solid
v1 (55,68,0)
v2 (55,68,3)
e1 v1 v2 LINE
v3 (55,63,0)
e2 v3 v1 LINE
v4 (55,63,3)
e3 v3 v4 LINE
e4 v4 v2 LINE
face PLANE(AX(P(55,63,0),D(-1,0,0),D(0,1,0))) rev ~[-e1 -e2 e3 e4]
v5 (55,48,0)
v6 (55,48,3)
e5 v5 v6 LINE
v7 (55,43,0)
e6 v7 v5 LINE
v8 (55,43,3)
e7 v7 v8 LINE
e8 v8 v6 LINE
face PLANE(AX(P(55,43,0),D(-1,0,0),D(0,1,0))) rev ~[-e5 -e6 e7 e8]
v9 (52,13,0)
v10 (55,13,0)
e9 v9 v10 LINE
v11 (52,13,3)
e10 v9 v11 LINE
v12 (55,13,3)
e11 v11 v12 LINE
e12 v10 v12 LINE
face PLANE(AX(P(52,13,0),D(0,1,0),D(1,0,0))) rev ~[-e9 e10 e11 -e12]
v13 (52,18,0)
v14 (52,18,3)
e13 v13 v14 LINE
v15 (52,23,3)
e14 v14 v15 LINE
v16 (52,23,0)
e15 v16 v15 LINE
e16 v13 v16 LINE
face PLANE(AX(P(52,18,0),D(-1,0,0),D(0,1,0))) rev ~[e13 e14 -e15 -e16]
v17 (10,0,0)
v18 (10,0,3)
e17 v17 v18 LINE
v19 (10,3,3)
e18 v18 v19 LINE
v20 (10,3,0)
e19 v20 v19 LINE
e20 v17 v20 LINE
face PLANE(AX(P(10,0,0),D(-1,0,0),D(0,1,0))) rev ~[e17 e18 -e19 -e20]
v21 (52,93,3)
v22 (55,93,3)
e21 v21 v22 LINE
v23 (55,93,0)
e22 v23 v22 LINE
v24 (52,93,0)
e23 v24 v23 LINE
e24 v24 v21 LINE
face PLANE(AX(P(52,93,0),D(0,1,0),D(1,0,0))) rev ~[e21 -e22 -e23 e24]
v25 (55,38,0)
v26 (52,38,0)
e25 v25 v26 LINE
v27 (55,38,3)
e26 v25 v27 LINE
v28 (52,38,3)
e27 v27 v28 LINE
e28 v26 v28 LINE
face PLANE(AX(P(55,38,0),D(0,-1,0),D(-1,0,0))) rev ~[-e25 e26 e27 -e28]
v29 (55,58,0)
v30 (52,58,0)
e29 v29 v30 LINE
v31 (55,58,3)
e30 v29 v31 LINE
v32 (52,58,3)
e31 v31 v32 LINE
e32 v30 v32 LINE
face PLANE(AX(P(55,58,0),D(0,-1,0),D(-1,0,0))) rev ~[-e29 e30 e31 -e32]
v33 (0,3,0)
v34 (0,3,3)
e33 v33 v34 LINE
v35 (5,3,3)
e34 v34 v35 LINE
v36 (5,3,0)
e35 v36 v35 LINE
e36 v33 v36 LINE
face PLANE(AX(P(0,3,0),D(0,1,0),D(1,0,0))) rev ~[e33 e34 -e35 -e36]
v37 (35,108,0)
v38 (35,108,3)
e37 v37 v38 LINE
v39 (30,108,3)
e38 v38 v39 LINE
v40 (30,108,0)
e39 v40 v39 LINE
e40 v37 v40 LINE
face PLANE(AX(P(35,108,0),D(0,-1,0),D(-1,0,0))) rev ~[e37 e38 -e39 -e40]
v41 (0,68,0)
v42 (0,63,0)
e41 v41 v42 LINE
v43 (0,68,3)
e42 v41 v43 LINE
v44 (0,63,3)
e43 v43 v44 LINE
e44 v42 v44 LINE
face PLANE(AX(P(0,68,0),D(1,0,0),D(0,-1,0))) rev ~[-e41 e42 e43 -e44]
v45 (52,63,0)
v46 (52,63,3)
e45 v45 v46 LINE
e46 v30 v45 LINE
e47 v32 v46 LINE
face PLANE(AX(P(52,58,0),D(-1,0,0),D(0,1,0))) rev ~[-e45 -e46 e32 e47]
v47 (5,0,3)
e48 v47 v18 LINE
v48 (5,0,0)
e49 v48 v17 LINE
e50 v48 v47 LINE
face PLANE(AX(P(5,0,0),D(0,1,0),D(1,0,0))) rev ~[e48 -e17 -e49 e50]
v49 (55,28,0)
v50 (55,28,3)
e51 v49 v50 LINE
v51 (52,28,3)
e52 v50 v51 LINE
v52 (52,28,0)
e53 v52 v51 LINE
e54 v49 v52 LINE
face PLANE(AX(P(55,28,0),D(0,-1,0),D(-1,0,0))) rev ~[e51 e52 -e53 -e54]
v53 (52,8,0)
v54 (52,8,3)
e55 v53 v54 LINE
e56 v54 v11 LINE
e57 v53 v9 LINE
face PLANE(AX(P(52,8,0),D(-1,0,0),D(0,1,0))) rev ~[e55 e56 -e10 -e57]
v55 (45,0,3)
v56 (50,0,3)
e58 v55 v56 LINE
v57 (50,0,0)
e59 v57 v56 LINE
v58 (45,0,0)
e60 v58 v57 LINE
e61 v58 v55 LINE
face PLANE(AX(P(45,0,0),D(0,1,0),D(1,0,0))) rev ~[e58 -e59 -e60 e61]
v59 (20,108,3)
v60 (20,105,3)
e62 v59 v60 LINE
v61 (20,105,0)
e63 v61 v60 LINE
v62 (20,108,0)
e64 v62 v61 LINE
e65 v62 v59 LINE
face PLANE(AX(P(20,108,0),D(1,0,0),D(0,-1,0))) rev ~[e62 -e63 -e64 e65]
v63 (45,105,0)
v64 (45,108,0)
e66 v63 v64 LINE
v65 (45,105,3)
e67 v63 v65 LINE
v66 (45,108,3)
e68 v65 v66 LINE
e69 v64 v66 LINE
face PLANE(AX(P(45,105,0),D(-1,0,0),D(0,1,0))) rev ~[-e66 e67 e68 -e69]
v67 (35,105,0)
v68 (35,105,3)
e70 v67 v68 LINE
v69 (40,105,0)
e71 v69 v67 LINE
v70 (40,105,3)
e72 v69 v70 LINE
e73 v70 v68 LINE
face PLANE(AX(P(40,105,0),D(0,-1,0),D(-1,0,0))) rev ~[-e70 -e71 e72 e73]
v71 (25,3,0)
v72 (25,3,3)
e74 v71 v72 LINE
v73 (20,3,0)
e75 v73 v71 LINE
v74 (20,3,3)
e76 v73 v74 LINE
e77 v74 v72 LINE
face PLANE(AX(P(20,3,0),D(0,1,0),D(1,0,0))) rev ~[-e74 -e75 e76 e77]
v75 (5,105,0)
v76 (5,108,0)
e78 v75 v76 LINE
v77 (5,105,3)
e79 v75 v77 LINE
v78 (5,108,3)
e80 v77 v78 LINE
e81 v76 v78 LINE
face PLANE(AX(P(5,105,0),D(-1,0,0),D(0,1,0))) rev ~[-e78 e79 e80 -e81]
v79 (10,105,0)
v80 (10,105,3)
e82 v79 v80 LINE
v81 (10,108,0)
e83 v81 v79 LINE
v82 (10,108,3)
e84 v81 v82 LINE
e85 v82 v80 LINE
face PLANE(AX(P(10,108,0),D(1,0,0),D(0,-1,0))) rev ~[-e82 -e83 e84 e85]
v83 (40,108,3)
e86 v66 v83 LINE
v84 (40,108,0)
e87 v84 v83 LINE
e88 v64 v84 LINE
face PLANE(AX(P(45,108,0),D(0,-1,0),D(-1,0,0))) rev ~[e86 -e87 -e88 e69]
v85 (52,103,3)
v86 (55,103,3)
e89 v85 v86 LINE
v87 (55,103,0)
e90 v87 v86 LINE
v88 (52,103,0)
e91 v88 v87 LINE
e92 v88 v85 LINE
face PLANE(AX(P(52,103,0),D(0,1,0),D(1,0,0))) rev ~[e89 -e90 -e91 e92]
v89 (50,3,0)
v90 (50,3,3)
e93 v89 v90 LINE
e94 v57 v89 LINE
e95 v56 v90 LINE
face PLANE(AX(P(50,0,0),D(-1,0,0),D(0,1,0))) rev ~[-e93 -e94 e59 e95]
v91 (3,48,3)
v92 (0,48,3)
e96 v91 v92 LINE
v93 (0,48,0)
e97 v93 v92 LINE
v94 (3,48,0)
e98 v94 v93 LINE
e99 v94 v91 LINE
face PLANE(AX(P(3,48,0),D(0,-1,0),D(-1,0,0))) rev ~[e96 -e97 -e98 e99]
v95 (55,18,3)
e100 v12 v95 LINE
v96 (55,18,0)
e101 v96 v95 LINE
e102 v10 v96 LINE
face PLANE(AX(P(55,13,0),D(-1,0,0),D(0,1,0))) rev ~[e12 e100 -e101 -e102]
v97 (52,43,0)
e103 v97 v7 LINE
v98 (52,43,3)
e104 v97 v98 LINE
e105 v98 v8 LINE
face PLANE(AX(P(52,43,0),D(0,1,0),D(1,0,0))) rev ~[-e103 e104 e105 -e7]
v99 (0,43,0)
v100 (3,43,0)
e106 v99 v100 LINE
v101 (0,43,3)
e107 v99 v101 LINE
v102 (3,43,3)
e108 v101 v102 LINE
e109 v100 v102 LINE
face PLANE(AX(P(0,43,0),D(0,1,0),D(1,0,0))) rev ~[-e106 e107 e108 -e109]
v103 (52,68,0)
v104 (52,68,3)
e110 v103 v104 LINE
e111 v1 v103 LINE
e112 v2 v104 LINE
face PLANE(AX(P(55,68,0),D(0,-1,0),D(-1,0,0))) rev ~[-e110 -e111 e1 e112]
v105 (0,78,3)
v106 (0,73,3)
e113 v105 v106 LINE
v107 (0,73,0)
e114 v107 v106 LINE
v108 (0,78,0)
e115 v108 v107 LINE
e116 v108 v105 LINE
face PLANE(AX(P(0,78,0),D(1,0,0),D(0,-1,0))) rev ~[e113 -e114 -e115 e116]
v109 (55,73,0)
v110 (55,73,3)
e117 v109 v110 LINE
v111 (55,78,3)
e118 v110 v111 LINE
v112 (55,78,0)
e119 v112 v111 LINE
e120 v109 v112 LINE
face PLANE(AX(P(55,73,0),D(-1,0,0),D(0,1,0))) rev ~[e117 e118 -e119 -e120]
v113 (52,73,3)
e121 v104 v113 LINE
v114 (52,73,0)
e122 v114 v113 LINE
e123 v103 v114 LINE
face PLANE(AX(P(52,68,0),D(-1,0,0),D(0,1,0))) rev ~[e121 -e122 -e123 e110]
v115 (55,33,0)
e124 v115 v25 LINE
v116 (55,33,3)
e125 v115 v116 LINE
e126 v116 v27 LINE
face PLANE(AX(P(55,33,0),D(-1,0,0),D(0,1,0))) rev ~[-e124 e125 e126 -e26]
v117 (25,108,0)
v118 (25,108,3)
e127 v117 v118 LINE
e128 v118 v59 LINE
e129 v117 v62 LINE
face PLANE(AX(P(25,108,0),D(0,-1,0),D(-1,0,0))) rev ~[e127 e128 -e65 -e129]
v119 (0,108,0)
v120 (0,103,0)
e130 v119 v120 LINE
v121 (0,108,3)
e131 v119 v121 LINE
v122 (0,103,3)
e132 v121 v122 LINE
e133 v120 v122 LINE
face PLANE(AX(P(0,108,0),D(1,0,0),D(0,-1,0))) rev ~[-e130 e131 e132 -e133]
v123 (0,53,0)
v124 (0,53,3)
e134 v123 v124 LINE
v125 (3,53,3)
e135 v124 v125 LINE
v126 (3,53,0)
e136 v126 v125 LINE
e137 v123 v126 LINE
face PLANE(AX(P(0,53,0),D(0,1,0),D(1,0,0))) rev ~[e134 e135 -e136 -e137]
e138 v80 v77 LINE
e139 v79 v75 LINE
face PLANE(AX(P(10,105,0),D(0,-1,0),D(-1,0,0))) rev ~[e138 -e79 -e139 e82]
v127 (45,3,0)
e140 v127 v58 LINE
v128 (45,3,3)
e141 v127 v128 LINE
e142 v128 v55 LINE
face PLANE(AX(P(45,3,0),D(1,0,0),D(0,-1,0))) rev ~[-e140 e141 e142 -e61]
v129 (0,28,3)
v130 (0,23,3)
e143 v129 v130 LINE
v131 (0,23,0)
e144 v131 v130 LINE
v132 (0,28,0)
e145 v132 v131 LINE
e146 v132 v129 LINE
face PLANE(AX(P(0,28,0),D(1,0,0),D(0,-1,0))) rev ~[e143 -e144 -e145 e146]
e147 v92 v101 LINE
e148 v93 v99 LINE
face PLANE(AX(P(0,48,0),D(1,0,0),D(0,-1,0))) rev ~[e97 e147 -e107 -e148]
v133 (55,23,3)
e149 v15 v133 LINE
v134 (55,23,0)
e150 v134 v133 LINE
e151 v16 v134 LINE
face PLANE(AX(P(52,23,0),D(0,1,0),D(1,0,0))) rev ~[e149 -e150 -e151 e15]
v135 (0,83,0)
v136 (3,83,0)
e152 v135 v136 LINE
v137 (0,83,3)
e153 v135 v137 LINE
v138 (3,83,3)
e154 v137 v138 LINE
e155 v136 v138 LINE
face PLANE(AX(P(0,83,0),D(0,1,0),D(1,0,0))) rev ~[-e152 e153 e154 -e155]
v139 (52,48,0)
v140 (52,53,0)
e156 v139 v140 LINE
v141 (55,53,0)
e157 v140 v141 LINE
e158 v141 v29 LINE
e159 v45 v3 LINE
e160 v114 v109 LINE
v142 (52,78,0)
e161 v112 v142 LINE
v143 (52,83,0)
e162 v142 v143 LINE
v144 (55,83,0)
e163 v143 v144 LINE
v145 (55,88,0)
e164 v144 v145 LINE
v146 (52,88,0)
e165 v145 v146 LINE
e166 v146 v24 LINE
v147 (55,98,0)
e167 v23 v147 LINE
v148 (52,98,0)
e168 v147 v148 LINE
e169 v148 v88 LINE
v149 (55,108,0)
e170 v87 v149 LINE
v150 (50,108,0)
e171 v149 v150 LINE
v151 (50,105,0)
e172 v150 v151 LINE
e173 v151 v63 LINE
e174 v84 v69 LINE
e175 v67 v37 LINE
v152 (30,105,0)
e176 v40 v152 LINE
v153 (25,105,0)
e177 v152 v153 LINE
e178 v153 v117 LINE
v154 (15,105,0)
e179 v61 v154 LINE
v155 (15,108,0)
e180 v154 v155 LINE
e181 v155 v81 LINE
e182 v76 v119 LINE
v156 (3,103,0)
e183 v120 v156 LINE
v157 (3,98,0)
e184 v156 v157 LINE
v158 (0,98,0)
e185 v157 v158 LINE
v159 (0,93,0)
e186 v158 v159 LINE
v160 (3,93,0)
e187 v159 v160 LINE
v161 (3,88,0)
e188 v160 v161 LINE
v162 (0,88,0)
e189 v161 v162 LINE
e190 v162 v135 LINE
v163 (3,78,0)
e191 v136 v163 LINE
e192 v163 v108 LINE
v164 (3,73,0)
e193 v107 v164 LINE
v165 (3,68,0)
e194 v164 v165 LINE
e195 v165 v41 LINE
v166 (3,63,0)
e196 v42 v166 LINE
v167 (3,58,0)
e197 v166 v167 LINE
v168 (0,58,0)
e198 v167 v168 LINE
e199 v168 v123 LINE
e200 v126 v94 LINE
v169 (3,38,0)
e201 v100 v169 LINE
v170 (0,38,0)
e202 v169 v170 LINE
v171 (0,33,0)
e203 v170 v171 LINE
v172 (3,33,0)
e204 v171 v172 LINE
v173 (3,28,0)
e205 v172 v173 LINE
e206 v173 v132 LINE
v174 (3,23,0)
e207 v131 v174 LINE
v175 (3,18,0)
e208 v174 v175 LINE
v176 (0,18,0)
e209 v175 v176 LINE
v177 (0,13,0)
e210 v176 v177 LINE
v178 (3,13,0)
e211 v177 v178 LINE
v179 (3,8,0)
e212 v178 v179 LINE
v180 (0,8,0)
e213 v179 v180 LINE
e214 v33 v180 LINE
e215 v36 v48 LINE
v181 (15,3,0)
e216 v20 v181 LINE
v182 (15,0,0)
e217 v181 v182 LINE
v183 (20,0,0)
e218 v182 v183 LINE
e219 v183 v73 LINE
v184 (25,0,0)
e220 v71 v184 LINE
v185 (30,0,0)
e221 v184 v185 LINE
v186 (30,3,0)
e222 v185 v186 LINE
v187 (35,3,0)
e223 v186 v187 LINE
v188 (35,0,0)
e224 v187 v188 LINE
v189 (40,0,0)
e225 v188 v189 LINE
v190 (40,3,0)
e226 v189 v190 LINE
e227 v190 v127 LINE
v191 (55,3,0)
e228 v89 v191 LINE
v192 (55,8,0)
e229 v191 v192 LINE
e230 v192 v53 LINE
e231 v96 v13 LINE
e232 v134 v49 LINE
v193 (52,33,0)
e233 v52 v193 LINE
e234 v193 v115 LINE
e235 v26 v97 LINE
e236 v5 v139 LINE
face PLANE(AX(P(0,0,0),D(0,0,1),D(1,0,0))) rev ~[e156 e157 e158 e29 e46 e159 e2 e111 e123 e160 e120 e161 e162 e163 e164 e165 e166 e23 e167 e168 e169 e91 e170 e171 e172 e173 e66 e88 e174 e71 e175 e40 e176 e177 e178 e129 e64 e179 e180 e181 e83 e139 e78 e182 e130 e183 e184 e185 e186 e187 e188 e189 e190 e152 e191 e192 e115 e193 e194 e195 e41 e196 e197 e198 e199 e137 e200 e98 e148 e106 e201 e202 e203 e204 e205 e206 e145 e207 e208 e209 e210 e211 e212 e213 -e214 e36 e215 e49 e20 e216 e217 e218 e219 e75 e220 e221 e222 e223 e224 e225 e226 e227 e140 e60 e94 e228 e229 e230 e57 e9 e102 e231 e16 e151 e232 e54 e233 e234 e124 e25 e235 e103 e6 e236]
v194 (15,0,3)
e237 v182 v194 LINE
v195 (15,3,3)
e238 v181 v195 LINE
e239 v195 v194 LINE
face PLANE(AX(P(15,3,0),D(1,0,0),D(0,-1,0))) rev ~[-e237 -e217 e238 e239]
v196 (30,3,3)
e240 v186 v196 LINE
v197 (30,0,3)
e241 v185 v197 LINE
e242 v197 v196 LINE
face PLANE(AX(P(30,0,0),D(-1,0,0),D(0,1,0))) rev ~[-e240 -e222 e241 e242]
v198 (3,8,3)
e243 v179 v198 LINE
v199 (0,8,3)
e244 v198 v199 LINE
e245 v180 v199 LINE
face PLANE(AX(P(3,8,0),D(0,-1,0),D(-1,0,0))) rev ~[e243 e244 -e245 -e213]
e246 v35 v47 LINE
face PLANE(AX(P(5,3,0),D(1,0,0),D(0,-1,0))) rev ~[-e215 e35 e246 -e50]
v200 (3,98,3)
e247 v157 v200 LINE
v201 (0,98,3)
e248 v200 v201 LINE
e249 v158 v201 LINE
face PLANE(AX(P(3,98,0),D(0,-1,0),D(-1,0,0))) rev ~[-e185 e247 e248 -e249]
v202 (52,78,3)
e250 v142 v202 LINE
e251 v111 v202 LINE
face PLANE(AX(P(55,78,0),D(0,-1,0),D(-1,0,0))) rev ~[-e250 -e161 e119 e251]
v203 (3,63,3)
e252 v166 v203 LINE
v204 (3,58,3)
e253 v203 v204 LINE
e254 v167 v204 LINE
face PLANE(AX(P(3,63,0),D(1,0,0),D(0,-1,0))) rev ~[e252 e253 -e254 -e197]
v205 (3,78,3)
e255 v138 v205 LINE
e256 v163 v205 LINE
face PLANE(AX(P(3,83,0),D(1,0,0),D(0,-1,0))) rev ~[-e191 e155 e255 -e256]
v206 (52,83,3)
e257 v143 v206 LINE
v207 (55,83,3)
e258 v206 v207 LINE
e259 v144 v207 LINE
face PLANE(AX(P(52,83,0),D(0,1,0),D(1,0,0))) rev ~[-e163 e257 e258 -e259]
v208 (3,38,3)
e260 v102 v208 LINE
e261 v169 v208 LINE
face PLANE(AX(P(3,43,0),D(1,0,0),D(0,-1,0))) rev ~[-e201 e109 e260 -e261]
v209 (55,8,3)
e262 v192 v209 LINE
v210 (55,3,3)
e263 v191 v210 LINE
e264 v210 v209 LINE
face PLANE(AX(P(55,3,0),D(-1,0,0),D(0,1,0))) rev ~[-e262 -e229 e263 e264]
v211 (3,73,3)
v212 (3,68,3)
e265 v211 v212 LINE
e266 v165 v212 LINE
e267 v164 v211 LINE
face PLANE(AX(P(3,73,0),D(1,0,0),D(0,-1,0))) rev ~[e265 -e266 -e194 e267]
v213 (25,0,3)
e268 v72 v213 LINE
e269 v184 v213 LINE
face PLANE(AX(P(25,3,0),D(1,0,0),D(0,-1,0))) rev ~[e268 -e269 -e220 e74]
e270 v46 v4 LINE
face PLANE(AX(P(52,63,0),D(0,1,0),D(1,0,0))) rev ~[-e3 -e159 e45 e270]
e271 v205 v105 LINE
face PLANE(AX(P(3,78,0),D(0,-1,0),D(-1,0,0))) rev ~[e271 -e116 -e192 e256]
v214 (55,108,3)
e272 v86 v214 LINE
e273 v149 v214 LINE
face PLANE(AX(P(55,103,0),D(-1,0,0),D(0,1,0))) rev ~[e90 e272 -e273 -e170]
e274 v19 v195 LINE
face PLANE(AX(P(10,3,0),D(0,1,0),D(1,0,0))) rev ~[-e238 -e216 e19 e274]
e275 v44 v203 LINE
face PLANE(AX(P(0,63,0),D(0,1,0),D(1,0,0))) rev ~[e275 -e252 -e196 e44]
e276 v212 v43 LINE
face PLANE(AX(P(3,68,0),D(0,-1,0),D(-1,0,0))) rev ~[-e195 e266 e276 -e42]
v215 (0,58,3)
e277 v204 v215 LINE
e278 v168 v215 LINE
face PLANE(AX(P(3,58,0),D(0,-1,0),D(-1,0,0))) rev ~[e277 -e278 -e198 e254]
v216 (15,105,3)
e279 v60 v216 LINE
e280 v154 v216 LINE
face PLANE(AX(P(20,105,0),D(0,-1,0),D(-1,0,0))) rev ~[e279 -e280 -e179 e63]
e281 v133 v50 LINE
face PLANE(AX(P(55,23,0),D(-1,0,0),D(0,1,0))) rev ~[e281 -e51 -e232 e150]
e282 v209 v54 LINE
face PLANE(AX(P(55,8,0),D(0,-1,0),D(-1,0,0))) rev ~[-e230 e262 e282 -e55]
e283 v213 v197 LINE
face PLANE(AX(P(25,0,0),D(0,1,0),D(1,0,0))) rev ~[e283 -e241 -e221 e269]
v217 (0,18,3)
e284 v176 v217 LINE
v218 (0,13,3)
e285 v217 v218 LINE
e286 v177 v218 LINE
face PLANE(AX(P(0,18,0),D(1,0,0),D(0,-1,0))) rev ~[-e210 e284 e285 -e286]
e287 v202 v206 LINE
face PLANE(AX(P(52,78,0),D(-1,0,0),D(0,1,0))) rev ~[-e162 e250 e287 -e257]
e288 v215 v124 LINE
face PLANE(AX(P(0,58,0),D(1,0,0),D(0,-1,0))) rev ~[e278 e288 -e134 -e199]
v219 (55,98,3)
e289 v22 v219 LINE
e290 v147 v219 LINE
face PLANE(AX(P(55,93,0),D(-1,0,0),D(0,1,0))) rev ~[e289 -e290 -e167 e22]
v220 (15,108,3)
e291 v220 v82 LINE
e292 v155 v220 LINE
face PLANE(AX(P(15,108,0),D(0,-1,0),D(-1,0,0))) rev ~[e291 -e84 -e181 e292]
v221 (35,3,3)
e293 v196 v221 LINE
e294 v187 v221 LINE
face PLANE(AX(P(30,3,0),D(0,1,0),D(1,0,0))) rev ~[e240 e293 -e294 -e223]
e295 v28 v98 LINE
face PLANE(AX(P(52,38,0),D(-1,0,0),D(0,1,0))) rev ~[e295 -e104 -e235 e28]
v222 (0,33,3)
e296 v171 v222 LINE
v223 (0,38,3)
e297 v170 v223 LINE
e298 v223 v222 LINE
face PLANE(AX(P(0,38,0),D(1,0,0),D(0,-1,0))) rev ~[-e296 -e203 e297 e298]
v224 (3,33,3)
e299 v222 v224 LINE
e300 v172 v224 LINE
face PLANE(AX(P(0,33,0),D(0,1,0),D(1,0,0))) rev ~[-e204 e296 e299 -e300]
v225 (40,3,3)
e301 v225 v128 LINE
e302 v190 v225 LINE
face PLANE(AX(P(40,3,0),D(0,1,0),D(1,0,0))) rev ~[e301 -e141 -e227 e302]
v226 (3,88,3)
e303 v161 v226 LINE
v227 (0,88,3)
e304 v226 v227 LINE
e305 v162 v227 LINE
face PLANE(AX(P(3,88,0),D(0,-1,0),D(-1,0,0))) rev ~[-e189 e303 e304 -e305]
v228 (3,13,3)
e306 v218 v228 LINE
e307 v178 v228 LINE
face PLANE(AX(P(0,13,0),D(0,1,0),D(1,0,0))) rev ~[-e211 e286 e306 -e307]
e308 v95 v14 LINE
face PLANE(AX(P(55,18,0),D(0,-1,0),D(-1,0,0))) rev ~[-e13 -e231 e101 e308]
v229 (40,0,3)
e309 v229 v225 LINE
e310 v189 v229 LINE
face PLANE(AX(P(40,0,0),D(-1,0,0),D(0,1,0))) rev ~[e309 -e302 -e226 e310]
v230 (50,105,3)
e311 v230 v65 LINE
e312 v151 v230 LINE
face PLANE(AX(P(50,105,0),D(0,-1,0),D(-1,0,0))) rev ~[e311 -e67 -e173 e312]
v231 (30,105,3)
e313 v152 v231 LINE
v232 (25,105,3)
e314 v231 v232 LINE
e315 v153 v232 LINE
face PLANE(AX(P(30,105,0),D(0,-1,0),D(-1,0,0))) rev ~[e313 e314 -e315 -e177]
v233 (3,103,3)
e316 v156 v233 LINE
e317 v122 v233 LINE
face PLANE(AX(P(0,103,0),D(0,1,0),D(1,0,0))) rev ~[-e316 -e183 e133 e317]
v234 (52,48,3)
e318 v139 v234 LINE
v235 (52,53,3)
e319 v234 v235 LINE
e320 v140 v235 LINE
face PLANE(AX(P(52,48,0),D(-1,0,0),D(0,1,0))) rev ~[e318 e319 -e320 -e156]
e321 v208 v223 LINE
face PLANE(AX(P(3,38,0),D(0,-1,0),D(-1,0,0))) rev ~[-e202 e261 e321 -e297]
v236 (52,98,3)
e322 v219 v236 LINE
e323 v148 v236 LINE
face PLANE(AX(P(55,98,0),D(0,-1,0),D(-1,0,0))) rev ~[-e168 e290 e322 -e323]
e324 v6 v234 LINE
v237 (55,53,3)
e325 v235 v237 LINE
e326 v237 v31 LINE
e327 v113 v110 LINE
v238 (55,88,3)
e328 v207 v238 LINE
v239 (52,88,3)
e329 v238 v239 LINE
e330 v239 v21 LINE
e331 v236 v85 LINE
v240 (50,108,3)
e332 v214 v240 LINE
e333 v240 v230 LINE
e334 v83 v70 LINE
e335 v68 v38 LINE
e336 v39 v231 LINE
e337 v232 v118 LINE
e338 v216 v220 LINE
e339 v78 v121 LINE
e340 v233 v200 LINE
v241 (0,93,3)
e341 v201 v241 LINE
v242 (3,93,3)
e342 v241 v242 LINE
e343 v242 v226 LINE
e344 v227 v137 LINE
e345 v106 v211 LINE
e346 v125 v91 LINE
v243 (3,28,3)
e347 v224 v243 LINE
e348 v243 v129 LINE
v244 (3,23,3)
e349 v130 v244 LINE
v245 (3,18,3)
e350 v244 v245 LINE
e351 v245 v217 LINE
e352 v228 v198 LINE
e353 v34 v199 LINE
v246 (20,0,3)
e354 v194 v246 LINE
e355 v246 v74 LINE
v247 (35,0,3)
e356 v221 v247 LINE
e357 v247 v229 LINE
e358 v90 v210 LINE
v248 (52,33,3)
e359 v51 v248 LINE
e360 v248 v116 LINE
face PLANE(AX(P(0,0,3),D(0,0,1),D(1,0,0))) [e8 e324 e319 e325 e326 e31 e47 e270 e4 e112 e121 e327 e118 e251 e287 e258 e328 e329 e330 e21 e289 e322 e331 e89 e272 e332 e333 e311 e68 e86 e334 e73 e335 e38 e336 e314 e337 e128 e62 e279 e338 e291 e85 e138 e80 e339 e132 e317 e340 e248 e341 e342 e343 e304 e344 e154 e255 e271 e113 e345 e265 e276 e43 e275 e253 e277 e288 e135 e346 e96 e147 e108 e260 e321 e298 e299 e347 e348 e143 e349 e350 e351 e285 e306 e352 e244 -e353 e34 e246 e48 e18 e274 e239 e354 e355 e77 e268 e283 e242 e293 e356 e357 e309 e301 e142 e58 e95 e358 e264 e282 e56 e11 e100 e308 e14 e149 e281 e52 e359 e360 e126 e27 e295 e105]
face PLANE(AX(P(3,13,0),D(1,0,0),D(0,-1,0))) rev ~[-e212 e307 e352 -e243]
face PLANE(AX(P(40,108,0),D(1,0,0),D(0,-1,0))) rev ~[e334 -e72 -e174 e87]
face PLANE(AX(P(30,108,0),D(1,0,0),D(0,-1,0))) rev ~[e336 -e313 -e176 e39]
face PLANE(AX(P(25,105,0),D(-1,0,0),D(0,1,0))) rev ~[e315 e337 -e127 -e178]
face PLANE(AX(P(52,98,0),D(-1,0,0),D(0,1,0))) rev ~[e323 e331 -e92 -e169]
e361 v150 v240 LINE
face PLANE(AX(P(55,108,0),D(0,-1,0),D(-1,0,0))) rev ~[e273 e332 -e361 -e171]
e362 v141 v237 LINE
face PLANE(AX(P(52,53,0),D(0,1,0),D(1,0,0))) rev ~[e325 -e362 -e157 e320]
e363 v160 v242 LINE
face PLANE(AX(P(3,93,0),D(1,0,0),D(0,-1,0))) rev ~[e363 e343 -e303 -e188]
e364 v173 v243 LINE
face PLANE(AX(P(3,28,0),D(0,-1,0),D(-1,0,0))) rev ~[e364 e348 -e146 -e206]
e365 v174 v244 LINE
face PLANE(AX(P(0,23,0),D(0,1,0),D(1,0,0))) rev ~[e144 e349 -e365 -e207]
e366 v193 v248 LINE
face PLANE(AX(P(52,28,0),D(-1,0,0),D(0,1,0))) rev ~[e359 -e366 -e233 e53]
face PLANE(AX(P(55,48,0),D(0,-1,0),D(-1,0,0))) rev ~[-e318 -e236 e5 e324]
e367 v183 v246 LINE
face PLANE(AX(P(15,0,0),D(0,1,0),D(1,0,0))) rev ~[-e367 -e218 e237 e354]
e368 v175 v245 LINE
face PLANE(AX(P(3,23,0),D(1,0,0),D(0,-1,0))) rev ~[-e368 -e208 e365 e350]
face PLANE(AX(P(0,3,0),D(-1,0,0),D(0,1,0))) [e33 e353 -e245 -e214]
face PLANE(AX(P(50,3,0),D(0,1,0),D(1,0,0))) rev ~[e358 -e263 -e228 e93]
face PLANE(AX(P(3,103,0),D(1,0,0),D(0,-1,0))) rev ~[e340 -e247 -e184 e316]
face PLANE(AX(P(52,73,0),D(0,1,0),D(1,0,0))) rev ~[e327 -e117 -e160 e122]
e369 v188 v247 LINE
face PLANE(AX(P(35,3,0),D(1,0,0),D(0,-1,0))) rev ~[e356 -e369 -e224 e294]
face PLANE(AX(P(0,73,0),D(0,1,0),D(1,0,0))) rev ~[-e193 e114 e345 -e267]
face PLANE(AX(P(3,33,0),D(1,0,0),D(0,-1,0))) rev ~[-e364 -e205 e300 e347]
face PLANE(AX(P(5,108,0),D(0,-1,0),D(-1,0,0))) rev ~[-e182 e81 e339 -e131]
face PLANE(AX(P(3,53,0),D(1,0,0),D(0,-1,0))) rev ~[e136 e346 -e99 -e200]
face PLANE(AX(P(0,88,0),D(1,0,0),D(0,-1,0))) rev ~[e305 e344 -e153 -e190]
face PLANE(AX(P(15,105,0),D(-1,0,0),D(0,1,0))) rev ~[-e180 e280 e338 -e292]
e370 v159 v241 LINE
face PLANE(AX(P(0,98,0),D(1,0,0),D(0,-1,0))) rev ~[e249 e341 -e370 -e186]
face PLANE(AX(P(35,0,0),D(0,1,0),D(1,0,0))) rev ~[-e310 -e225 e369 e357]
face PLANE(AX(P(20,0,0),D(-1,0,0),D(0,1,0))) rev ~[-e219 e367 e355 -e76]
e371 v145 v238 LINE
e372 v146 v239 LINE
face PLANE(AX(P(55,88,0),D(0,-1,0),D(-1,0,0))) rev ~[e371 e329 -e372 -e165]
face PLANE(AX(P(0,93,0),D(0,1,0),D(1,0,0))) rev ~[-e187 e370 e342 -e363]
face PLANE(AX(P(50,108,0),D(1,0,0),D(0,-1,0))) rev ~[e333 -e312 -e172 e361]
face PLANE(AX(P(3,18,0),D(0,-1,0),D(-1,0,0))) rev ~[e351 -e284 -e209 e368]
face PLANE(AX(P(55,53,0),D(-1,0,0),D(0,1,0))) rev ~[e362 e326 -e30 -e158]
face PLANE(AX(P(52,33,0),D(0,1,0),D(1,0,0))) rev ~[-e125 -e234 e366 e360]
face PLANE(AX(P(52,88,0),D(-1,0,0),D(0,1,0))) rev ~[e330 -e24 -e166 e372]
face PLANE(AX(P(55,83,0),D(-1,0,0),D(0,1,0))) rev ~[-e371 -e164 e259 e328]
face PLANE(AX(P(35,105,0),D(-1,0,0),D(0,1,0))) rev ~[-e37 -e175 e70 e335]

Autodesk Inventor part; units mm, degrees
ref_plane "YZ Plane" through (0, 0, 0) normal (1, 0, 0) x (0, 1, 0)
ref_plane "XZ Plane" through (0, 0, 0) normal (0, 1, 0) x (-1, 0, 0)
ref_plane "XY Plane" through (0, 0, 0) normal (0, 0, 1) x (1, 0, 0)
sketch "Skizze1" plane through (0, 0, 0) normal (0, 0, 1) x (1, 0, 0)
  line L0 (0, 3) -> (5, 3)
  line L1 (5, 3) -> (5, 0)
  line L2 (5, 0) -> (10, 0)
  line L3 (10, 0) -> (10, 3)
  line L4 (10, 3) -> (15, 3)
  line L5 (15, 3) -> (15, 0)
  line L6 (15, 0) -> (20, 0)
  line L7 (20, 0) -> (20, 3)
  line L8 (20, 3) -> (25, 3)
  line L9 (25, 3) -> (25, 0)
  line L10 (25, 0) -> (30, 0)
  line L11 (30, 0) -> (30, 3)
  line L12 (30, 3) -> (35, 3)
  line L13 (35, 3) -> (35, 0)
  line L14 (35, 0) -> (40, 0)
  line L15 (40, 0) -> (40, 3)
  line L16 (40, 3) -> (45, 3)
  line L17 (45, 3) -> (45, 0)
  line L18 (45, 0) -> (50, 0)
  line L19 (50, 0) -> (50, 3)
  line L20 (50, 3) -> (55, 3)
  line L21 (55, 3) -> (55, 8)
  line L22 (55, 8) -> (52, 8)
  line L23 (52, 8) -> (52, 13)
  line L24 (52, 13) -> (55, 13)
  line L25 (55, 13) -> (55, 18)
  line L26 (52, 18) -> (52, 23)
  line L27 (55, 18) -> (52, 18)
  line L28 (52, 23) -> (55, 23)
  line L29 (55, 23) -> (55, 28)
  line L30 (52, 28) -> (52, 33)
  line L31 (55, 28) -> (52, 28)
  line L32 (52, 33) -> (55, 33)
  line L33 (55, 33) -> (55, 38)
  line L34 (52, 38) -> (52, 43)
  line L35 (55, 38) -> (52, 38)
  line L36 (52, 43) -> (55, 43)
  line L37 (55, 43) -> (55, 48)
  line L38 (52, 48) -> (52, 53)
  line L39 (55, 48) -> (52, 48)
  line L40 (52, 53) -> (55, 53)
  line L41 (55, 53) -> (55, 58)
  line L42 (52, 58) -> (52, 63)
  line L43 (55, 58) -> (52, 58)
  line L44 (52, 63) -> (55, 63)
  line L45 (55, 63) -> (55, 68)
  line L46 (52, 68) -> (52, 73)
  line L47 (55, 68) -> (52, 68)
  line L48 (52, 73) -> (55, 73)
  line L49 (55, 73) -> (55, 78)
  line L50 (52, 78) -> (52, 83)
  line L51 (55, 78) -> (52, 78)
  line L52 (52, 83) -> (55, 83)
  line L53 (55, 83) -> (55, 88)
  line L54 (52, 88) -> (52, 93)
  line L55 (55, 88) -> (52, 88)
  line L56 (52, 93) -> (55, 93)
  line L57 (55, 93) -> (55, 98)
  line L58 (52, 98) -> (52, 103)
  line L59 (55, 98) -> (52, 98)
  line L60 (52, 103) -> (55, 103)
  line L61 (55, 103) -> (55, 108)
  line L62 (55, 108) -> (50, 108)
  line L63 (50, 108) -> (50, 105)
  line L64 (50, 105) -> (45, 105)
  line L65 (45, 105) -> (45, 108)
  line L66 (40, 105) -> (35, 105)
  line L67 (40, 108) -> (40, 105)
  line L68 (35, 105) -> (35, 108)
  line L69 (45, 108) -> (40, 108)
  line L70 (30, 105) -> (25, 105)
  line L71 (30, 108) -> (30, 105)
  line L72 (25, 105) -> (25, 108)
  line L73 (35, 108) -> (30, 108)
  line L74 (20, 105) -> (15, 105)
  line L75 (20, 108) -> (20, 105)
  line L76 (15, 105) -> (15, 108)
  line L77 (25, 108) -> (20, 108)
  line L78 (10, 105) -> (5, 105)
  line L79 (10, 108) -> (10, 105)
  line L80 (5, 105) -> (5, 108)
  line L81 (15, 108) -> (10, 108)
  line L82 (5, 108) -> (0, 108)
  line L83 (0, 108) -> (0, 103)
  line L84 (0, 103) -> (3, 103)
  line L85 (3, 103) -> (3, 98)
  line L86 (3, 98) -> (0, 98)
  line L87 (3, 93) -> (3, 88)
  line L88 (0, 93) -> (3, 93)
  line L89 (3, 88) -> (0, 88)
  line L90 (0, 98) -> (0, 93)
  line L91 (3, 83) -> (3, 78)
  line L92 (0, 83) -> (3, 83)
  line L93 (3, 78) -> (0, 78)
  line L94 (0, 88) -> (0, 83)
  line L95 (3, 73) -> (3, 68)
  line L96 (0, 73) -> (3, 73)
  line L97 (3, 68) -> (0, 68)
  line L98 (0, 78) -> (0, 73)
  line L99 (3, 63) -> (3, 58)
  line L100 (0, 63) -> (3, 63)
  line L101 (3, 58) -> (0, 58)
  line L102 (0, 68) -> (0, 63)
  line L103 (3, 53) -> (3, 48)
  line L104 (0, 53) -> (3, 53)
  line L105 (3, 48) -> (0, 48)
  line L106 (0, 58) -> (0, 53)
  line L107 (3, 43) -> (3, 38)
  line L108 (0, 43) -> (3, 43)
  line L109 (3, 38) -> (0, 38)
  line L110 (0, 48) -> (0, 43)
  line L111 (3, 33) -> (3, 28)
  line L112 (0, 33) -> (3, 33)
  line L113 (3, 28) -> (0, 28)
  line L114 (0, 38) -> (0, 33)
  line L115 (3, 23) -> (3, 18)
  line L116 (0, 23) -> (3, 23)
  line L117 (3, 18) -> (0, 18)
  line L118 (0, 28) -> (0, 23)
  line L119 (3, 13) -> (3, 8)
  line L120 (0, 13) -> (3, 13)
  line L121 (3, 8) -> (0, 8)
  line L122 (0, 18) -> (0, 13)
  line L123 (0, 3) -> (0, 8)
  point P0 (0, 0)
  point P1 (0, 98)
  point P2 (0, 88)
  point P3 (0, 78)
  point P4 (0, 68)
  point P5 (0, 58)
  point P6 (0, 48)
  point P7 (0, 38)
  point P8 (0, 28)
  point P9 (0, 18)
  dimension "d0" = 5
  dimension "d1" = 3
  dimension "d4" = 10
  dimension "d11" = 10
  dimension "d18" = 10
  dimension "d25" = 10
extrude "Extrusion1" add sketch "Skizze1" along normal blind 3
properties part number "plate_front_big"
